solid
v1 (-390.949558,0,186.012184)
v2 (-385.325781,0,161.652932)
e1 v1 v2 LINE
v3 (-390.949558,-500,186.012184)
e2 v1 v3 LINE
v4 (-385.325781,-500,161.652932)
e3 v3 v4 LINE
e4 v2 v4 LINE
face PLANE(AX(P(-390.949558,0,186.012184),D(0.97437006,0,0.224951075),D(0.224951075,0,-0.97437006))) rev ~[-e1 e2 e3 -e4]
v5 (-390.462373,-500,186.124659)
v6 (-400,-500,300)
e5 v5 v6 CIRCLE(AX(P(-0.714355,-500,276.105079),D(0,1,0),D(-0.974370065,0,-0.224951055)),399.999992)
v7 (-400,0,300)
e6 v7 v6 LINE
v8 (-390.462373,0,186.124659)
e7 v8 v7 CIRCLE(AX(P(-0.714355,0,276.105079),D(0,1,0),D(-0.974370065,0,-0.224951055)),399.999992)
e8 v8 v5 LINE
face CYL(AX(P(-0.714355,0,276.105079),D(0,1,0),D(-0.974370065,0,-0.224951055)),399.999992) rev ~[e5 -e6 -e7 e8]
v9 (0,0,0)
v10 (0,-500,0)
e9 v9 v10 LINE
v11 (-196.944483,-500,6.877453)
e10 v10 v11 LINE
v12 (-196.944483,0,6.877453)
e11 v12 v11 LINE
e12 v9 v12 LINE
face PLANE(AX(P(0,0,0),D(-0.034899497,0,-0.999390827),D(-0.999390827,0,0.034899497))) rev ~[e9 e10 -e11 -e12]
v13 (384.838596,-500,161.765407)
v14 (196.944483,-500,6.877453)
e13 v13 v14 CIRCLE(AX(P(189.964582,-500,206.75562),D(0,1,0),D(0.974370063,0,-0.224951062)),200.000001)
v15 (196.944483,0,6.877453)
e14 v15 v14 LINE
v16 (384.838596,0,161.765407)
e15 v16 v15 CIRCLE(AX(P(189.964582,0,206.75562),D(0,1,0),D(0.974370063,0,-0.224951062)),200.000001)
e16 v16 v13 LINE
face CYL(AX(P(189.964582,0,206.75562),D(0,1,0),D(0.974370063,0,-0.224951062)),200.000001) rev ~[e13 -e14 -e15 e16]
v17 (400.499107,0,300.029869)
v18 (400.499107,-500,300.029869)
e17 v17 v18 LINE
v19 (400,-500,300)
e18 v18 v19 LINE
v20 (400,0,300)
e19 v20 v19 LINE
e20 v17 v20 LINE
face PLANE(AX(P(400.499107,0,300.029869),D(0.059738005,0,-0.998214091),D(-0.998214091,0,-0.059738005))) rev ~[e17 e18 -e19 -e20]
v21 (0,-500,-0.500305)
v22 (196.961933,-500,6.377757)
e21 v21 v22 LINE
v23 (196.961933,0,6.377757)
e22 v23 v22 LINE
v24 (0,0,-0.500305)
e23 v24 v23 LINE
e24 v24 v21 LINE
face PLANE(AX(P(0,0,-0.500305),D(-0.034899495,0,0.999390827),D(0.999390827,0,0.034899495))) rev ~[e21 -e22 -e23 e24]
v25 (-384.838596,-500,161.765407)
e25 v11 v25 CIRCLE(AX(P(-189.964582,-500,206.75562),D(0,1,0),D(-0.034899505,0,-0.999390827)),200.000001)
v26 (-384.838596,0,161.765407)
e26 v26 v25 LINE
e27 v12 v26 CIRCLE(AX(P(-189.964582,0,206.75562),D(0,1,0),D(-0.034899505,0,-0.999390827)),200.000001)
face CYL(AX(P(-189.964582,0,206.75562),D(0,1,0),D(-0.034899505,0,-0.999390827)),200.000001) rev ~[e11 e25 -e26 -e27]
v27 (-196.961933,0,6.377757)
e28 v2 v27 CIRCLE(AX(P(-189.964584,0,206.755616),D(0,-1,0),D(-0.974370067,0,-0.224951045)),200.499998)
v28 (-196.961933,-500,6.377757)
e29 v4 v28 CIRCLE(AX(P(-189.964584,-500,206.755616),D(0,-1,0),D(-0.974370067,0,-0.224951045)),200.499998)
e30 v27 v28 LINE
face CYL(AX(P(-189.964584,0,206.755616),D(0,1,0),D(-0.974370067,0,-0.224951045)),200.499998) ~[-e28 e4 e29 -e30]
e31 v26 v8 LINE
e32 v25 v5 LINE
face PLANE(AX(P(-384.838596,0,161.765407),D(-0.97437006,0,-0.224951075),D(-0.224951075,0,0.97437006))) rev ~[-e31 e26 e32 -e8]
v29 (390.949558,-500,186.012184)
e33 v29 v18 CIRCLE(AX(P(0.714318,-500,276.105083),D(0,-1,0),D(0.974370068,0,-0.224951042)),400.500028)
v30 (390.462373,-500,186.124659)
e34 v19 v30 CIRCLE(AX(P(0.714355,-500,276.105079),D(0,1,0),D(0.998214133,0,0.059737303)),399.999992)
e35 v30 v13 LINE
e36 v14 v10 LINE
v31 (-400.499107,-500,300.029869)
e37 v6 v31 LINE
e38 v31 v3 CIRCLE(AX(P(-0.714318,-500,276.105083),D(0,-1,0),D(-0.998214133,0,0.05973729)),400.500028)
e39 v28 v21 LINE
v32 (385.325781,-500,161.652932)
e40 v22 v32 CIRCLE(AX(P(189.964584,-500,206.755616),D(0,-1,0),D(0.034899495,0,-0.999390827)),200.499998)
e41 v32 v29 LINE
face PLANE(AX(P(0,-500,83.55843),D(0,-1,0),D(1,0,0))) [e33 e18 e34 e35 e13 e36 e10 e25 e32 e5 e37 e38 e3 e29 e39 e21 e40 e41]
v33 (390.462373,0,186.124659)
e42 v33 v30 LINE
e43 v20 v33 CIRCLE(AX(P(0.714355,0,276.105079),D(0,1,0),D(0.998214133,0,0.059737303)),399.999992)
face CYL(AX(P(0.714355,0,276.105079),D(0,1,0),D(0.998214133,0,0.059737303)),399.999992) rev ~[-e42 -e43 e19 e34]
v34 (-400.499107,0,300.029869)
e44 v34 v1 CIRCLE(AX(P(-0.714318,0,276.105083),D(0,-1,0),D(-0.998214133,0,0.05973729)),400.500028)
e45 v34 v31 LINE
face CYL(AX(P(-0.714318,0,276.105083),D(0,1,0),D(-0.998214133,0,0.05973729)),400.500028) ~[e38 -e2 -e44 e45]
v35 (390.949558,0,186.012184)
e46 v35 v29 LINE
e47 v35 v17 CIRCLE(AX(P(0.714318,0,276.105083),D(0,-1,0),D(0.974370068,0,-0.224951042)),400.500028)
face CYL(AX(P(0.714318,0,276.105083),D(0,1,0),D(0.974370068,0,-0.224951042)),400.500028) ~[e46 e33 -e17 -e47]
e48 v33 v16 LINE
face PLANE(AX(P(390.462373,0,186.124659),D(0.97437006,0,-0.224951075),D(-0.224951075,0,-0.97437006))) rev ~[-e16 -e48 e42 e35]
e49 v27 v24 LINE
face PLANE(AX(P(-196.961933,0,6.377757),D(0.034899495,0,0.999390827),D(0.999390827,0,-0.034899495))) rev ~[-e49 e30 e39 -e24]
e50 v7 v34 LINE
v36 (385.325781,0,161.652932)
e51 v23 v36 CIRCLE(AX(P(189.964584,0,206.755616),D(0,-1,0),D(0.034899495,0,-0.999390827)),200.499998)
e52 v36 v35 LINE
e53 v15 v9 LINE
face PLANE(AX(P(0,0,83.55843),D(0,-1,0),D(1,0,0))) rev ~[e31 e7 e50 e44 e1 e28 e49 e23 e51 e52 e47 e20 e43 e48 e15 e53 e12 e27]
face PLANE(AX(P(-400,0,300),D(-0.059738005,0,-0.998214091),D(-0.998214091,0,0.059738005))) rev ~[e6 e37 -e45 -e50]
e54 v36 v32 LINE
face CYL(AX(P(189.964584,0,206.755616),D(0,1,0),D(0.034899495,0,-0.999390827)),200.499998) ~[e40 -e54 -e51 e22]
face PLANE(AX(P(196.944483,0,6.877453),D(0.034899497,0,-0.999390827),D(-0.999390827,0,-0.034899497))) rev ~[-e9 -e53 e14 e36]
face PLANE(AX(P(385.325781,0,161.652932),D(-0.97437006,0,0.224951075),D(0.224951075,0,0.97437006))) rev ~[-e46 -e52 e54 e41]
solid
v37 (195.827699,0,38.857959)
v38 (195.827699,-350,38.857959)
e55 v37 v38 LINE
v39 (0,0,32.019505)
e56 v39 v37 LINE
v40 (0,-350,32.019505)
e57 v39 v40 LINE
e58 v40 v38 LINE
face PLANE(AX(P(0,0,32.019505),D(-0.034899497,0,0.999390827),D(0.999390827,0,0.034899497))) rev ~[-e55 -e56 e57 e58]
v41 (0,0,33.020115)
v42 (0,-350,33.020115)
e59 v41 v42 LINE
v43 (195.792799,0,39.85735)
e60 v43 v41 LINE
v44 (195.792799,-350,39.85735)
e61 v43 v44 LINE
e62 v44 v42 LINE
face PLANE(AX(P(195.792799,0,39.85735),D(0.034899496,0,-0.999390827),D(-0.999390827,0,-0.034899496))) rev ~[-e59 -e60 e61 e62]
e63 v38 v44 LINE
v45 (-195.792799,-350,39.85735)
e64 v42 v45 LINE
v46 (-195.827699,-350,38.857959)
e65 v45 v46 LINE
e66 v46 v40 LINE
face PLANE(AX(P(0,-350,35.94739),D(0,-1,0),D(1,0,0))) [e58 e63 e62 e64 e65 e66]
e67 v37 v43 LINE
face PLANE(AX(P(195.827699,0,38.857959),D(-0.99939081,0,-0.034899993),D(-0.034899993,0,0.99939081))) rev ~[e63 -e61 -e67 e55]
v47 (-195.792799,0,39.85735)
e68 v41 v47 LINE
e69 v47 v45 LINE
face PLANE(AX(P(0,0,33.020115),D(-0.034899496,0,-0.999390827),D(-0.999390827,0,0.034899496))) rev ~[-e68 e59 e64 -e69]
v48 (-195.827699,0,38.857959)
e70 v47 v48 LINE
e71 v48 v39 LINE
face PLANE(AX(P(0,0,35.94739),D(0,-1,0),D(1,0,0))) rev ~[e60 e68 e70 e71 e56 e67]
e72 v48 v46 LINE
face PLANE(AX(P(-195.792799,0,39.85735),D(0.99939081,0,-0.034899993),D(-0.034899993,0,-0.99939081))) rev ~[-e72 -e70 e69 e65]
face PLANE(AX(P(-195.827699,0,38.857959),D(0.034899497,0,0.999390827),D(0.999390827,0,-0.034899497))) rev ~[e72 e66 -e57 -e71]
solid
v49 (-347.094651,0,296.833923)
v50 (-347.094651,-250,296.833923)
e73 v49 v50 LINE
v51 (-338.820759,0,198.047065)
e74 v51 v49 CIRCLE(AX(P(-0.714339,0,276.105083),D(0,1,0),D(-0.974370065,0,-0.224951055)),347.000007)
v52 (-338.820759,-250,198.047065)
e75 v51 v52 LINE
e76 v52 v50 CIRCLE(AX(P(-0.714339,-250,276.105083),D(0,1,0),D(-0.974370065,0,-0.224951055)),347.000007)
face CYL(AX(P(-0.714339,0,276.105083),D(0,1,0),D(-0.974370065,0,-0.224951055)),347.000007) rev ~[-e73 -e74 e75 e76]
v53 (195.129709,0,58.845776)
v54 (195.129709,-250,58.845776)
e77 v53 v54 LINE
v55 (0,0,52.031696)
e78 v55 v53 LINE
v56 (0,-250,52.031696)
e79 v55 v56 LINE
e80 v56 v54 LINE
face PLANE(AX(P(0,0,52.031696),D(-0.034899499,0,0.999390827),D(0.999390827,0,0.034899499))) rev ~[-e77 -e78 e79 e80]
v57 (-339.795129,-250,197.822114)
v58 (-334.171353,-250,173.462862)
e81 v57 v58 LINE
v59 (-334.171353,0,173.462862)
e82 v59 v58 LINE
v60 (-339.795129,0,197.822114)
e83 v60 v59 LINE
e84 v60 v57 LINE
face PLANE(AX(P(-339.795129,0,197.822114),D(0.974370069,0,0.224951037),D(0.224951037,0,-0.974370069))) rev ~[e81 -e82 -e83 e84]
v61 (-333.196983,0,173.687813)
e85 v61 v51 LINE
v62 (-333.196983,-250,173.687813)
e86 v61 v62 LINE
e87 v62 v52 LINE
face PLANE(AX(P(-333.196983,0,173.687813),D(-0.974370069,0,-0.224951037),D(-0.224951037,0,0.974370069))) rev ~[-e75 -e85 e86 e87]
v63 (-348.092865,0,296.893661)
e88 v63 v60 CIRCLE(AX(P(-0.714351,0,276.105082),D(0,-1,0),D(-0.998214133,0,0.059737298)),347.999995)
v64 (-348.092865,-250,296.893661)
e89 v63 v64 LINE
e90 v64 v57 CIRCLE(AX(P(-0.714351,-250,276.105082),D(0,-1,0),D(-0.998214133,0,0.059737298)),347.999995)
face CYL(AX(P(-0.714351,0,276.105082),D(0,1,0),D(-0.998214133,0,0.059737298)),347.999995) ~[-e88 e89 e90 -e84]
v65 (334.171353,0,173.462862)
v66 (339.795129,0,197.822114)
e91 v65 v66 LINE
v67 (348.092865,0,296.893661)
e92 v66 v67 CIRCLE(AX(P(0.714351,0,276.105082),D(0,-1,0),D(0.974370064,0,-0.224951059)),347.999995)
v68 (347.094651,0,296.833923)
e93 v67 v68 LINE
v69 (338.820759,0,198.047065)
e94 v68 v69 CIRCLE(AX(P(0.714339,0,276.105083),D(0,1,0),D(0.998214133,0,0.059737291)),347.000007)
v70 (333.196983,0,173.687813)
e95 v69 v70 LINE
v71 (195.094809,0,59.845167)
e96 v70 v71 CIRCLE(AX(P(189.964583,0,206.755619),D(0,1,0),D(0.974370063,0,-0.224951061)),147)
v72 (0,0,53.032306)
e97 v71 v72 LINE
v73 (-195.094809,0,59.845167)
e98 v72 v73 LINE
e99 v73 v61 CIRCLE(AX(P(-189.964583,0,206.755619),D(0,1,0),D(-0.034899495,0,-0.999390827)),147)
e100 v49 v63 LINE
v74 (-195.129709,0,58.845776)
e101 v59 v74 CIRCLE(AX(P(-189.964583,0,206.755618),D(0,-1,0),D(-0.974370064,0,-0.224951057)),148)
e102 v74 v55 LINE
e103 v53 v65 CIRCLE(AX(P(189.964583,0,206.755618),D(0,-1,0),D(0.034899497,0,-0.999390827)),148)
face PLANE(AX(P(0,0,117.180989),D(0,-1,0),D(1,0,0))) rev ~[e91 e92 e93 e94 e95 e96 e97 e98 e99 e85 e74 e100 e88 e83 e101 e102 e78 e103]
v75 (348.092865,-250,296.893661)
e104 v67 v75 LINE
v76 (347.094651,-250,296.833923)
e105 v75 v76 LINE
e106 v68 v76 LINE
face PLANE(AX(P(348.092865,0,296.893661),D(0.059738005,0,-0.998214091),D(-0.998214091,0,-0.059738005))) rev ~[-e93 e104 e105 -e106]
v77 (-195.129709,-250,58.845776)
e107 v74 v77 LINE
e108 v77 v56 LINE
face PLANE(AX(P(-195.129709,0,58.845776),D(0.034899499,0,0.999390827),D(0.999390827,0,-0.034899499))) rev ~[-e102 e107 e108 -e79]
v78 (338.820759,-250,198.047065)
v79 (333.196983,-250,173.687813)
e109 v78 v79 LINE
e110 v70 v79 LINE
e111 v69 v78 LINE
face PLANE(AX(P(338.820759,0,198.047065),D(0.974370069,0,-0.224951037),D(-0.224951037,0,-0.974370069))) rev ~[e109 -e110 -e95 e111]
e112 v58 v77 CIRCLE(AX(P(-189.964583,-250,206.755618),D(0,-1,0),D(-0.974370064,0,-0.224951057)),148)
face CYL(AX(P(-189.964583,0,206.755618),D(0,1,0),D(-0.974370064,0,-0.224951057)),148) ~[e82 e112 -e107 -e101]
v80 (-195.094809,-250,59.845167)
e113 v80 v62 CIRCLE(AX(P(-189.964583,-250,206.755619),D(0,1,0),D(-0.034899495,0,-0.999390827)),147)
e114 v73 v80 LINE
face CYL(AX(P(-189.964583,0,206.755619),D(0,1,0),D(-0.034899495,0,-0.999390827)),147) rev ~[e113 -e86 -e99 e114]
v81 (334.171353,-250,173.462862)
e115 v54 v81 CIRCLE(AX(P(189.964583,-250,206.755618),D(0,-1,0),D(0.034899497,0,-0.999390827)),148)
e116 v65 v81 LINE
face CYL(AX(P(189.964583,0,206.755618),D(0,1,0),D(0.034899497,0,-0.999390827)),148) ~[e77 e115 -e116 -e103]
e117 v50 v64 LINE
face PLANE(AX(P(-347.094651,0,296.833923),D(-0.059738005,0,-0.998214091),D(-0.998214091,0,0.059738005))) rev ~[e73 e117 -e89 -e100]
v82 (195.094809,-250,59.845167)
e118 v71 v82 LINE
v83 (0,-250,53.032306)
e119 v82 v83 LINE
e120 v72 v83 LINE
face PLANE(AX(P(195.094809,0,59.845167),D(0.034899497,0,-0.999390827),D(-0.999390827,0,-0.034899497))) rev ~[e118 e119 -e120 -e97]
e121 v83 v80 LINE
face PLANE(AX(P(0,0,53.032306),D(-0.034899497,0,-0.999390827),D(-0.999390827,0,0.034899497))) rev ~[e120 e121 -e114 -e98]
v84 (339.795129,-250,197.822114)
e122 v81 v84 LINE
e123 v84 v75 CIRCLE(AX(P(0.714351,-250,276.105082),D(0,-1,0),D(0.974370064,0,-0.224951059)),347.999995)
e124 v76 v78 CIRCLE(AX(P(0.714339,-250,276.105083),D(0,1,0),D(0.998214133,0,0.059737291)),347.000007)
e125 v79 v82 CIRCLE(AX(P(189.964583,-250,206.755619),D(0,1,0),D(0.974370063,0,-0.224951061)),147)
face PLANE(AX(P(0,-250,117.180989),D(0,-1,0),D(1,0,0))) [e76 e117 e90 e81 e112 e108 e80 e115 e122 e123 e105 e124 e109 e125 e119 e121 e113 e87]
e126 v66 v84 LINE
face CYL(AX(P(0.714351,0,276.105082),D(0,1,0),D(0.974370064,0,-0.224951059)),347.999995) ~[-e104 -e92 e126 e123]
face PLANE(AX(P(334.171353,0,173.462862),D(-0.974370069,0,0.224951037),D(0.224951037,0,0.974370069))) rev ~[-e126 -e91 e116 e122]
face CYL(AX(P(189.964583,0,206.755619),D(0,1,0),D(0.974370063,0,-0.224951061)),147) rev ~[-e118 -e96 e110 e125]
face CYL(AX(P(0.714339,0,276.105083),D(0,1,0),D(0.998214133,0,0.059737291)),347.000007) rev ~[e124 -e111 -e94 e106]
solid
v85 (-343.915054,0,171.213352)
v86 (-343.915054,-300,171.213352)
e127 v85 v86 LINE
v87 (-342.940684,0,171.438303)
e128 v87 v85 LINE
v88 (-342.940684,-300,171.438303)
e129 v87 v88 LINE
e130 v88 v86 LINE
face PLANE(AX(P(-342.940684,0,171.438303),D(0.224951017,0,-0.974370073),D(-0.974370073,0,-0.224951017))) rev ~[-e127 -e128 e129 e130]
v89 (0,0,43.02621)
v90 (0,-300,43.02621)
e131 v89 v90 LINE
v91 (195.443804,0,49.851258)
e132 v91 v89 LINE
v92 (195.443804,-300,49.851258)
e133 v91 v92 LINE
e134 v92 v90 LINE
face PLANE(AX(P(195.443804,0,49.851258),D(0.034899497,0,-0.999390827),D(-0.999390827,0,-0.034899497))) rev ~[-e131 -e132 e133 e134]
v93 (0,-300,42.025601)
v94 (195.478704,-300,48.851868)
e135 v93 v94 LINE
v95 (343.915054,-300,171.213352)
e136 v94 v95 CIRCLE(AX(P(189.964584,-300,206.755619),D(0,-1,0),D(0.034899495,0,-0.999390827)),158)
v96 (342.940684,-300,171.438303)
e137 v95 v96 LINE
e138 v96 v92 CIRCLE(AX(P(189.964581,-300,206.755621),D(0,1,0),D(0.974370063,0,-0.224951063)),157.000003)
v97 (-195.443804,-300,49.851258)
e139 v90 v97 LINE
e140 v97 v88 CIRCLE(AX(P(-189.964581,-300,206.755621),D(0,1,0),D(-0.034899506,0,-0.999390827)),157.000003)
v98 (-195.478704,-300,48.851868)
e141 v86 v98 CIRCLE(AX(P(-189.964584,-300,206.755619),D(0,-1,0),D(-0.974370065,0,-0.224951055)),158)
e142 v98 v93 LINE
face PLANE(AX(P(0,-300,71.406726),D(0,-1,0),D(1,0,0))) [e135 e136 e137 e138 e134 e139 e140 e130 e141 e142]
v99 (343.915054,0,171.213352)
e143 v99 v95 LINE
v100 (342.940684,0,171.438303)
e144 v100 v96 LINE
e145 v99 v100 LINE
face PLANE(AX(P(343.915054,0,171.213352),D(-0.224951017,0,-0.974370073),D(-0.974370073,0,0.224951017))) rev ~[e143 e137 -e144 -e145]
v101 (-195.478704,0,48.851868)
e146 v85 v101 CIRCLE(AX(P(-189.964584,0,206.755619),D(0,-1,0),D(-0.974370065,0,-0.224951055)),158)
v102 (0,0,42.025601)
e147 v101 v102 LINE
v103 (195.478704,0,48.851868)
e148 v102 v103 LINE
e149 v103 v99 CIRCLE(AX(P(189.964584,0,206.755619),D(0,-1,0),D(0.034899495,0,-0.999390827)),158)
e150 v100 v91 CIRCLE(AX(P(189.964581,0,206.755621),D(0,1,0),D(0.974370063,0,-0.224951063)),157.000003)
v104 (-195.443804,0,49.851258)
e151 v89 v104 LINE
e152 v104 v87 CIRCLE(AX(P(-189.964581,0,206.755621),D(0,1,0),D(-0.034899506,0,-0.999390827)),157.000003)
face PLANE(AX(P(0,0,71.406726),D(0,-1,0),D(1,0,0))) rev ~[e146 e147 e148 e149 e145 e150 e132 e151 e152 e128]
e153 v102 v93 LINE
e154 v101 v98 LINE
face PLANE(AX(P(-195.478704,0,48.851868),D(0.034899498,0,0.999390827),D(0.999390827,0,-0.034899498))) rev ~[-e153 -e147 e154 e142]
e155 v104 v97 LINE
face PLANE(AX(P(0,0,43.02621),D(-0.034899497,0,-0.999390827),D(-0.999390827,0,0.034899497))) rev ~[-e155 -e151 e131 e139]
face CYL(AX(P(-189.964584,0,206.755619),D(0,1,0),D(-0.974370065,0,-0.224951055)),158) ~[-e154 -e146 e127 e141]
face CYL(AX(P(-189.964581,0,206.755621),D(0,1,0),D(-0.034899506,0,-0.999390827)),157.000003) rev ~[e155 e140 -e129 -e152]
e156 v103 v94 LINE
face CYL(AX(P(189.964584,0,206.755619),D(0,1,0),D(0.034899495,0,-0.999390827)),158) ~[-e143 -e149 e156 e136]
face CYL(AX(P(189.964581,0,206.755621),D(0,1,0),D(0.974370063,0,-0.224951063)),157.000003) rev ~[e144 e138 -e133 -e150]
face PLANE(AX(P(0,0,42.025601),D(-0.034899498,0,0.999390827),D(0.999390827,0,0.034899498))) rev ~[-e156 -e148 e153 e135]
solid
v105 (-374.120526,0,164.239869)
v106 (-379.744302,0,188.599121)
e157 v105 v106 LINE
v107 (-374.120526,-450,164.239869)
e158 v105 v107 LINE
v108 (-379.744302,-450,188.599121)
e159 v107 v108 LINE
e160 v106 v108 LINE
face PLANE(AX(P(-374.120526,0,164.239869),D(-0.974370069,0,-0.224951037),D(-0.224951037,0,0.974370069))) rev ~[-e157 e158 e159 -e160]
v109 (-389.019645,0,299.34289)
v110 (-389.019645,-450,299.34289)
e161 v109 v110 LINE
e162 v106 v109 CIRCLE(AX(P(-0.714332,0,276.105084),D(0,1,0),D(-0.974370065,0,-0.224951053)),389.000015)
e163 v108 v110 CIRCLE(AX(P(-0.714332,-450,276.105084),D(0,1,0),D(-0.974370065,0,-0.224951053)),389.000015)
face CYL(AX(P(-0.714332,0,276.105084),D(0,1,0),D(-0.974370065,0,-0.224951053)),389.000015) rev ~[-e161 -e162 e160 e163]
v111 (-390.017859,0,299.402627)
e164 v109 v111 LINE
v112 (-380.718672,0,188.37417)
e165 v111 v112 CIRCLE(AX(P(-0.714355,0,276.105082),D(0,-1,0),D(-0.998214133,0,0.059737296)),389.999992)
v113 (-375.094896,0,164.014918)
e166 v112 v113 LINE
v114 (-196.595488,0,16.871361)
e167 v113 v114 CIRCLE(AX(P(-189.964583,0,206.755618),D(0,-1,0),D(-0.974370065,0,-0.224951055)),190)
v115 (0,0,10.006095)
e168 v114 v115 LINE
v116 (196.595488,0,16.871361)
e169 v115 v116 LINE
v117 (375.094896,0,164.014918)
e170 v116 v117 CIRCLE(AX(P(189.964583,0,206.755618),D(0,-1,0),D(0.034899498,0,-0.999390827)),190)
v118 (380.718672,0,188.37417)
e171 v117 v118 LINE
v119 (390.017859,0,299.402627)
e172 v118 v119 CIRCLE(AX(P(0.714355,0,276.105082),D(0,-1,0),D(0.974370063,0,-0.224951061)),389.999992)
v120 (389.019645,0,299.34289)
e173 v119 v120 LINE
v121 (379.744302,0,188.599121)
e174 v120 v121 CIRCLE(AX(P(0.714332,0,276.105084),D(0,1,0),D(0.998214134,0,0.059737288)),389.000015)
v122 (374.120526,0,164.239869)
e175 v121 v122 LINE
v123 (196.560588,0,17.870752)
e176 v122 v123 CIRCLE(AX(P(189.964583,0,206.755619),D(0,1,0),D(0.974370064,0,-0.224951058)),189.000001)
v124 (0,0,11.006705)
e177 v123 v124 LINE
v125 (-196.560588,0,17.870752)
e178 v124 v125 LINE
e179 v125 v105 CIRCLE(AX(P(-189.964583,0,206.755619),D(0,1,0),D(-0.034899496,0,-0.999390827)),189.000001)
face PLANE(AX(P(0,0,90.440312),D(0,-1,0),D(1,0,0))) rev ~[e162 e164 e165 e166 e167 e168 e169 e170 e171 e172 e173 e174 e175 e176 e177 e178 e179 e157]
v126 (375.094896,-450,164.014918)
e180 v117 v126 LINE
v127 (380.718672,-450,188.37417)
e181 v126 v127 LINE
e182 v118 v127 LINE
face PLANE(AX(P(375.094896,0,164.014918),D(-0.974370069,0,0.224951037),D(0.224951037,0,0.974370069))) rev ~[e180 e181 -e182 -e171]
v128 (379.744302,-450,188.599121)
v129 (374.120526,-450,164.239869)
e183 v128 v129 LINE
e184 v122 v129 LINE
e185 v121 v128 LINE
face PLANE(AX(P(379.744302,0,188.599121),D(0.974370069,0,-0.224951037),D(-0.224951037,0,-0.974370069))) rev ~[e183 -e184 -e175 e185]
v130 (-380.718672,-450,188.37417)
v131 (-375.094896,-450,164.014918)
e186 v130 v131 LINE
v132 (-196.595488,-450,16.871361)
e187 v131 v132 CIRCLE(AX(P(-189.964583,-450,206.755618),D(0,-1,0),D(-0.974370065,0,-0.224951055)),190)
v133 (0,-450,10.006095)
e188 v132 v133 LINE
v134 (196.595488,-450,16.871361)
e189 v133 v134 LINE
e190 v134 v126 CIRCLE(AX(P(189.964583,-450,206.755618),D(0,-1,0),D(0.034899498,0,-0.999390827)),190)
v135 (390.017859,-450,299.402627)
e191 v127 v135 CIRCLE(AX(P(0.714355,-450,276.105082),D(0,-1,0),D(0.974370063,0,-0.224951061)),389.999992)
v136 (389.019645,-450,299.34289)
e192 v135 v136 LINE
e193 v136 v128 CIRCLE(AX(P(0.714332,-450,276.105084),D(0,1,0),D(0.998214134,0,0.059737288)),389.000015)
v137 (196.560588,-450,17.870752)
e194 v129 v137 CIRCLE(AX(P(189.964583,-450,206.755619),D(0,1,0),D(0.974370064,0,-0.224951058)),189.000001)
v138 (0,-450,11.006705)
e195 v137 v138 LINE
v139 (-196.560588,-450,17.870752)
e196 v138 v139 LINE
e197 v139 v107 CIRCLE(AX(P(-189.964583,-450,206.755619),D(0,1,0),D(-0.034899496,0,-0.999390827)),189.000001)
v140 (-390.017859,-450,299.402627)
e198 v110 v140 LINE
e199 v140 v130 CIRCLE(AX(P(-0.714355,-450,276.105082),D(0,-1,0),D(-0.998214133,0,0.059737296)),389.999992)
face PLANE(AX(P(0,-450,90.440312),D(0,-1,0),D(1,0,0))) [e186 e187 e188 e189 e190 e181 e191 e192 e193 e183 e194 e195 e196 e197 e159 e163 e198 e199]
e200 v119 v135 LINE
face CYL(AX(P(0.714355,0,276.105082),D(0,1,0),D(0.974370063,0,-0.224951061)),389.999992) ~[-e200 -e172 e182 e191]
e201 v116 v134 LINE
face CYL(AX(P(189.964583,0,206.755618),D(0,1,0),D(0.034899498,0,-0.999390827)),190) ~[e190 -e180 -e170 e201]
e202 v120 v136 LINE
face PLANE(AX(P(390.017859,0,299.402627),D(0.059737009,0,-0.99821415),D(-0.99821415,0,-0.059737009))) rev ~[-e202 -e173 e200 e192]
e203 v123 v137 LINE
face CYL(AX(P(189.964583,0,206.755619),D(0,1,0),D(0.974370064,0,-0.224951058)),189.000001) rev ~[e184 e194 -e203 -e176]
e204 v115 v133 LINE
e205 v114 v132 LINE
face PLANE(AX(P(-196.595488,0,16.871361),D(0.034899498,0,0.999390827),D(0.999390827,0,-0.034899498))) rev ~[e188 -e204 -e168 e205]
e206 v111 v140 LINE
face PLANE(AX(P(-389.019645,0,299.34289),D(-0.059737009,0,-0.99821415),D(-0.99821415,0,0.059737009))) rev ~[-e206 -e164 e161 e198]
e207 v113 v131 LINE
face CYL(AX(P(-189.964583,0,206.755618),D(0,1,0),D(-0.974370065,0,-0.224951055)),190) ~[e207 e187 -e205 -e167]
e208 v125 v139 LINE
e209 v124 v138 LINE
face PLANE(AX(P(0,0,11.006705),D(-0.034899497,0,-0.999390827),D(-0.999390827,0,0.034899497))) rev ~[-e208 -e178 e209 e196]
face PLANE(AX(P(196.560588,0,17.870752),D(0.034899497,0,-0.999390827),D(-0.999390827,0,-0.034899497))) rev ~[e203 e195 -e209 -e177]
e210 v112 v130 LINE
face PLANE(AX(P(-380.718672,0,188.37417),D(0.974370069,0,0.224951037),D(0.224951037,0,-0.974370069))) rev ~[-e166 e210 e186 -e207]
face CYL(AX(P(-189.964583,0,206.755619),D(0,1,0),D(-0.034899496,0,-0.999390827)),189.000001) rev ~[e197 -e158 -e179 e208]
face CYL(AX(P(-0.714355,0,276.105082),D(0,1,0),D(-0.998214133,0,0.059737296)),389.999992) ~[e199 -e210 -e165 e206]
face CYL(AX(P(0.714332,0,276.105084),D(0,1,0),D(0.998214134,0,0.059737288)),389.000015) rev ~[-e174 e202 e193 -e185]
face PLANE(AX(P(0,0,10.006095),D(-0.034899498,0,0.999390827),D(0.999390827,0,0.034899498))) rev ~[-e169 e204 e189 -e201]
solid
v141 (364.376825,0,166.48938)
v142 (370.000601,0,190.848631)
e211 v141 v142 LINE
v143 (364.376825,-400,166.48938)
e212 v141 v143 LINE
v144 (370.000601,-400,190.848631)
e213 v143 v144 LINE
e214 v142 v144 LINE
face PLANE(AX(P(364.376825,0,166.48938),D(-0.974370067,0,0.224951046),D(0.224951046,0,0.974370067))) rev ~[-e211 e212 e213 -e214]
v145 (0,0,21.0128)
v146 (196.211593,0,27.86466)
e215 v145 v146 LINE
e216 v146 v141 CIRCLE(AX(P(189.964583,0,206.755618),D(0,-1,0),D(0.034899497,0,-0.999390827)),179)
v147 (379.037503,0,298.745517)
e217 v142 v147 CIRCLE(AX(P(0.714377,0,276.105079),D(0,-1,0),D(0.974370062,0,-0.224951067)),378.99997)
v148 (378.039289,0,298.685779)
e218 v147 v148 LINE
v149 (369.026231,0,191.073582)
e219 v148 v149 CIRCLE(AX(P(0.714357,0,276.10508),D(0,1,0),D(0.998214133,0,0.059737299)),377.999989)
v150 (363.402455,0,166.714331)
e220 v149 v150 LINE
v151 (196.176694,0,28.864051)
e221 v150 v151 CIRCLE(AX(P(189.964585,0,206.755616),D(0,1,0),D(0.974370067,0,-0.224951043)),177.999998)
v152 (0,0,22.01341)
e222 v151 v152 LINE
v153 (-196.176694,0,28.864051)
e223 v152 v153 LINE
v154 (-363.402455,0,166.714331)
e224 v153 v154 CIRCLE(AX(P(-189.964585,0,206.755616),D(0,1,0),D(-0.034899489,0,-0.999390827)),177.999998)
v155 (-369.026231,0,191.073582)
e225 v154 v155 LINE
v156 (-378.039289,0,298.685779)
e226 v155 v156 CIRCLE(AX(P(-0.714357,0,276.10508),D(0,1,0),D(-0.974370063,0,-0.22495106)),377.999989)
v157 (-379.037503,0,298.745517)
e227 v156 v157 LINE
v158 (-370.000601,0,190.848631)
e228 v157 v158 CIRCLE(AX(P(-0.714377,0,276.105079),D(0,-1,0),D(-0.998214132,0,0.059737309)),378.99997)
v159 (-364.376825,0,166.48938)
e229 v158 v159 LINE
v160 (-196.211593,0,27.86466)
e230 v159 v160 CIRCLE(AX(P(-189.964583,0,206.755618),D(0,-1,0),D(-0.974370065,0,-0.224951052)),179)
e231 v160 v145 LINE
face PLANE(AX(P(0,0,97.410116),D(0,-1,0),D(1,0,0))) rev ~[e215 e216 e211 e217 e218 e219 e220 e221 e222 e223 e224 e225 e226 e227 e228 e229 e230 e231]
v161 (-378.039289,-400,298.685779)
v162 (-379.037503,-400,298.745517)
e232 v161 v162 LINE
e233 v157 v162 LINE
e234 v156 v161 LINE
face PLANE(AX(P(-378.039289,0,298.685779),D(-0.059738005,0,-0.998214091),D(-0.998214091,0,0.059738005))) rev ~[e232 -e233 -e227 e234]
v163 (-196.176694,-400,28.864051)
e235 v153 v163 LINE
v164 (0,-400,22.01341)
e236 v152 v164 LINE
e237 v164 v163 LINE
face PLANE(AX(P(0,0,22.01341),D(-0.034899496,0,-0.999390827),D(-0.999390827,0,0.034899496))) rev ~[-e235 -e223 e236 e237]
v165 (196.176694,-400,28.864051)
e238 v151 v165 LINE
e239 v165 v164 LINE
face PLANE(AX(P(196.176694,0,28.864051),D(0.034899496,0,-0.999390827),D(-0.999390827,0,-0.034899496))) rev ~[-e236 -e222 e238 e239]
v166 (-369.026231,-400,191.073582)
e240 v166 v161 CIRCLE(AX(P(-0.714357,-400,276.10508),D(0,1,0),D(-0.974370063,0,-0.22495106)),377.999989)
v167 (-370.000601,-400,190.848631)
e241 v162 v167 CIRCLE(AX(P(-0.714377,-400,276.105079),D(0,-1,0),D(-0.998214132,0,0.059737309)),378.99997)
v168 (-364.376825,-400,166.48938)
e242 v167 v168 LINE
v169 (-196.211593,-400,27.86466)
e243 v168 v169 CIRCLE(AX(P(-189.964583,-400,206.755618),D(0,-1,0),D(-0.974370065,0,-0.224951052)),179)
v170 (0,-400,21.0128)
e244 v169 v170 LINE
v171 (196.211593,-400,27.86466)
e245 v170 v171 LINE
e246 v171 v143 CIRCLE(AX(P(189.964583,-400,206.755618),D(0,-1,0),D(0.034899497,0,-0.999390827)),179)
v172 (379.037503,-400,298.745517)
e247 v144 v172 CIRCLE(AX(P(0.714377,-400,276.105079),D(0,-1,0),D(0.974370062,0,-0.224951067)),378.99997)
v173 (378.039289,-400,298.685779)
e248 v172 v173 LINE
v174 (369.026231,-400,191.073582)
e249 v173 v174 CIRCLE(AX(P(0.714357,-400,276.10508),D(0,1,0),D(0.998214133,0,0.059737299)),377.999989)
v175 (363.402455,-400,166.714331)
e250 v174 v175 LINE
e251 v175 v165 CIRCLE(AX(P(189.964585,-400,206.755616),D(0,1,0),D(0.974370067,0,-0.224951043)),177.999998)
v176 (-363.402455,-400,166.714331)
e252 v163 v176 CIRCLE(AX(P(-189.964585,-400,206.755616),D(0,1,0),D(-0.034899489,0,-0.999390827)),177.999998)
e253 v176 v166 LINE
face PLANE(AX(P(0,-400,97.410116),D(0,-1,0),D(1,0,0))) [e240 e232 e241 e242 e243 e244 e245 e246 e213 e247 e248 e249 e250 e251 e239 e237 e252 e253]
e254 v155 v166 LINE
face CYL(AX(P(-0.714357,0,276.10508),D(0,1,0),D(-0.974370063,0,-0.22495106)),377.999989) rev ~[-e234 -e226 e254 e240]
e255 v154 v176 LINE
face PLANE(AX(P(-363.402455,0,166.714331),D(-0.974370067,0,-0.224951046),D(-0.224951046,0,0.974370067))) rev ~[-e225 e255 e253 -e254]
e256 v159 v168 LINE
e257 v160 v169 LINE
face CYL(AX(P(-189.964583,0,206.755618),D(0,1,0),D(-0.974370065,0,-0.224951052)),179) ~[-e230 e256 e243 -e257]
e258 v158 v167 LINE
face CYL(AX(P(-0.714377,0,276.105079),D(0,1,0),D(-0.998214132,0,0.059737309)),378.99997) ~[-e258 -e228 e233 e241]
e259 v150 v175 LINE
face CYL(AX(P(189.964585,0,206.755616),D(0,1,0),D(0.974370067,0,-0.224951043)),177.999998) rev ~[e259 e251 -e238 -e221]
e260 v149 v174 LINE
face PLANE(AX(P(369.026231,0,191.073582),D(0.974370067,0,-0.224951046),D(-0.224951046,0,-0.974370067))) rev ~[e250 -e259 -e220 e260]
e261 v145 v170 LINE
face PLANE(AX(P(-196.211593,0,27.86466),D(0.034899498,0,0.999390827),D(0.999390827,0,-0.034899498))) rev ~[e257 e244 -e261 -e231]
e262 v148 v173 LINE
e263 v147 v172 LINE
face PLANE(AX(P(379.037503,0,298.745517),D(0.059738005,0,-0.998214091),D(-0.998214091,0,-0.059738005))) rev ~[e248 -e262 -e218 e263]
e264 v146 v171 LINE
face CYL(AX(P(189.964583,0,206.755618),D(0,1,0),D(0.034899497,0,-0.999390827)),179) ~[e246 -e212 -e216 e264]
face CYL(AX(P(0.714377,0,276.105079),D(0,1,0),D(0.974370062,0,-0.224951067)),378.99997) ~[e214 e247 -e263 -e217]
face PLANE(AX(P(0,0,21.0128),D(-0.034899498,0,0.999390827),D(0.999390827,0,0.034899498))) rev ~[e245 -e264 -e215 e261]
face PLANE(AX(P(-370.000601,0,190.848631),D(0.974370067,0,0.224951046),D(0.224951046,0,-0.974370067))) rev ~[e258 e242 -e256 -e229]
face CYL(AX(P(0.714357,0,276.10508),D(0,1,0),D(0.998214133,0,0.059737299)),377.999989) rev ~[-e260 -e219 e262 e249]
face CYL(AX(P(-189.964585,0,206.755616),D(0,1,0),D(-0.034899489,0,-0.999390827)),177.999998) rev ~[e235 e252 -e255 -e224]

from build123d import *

# Parameters (mm, degrees)
F1_DEPTH  = 500
F3_DEPTH  = 450
F5_DEPTH  = 400
F7_DEPTH  = 350
F9_DEPTH  = 300
F11_DEPTH = 250


with BuildPart() as f1:
    # F0 (on Front) → F1 (new body)
    with BuildSketch(Plane.XZ):
        with BuildLine():
            Line((196.944483, 6.877453), (0, 0))
            Line((0, 0), (-196.944483, 6.877453))
            ThreePointArc((-196.944483, 6.877453), (-317.180227, 52.430702), (-384.838596, 161.765407))
            Line((-384.838596, 161.765407), (-390.462373, 186.124659))
            ThreePointArc((-390.462373, 186.124659), (-399.318706, 242.719979), (-400, 300))
            Line((-400, 300), (-400.499107, 300.029869))
            ThreePointArc((-400.499107, 300.029869), (-399.816961, 242.678248), (-390.949558, 186.012184))
            Line((-390.949558, 186.012184), (-385.325781, 161.652932))
            ThreePointArc((-385.325781, 161.652932), (-317.498267, 52.044889), (-196.961933, 6.377757))
            Line((-196.961933, 6.377757), (0, -0.500305))
            Line((0, -0.500305), (196.961933, 6.377757))
            ThreePointArc((196.961933, 6.377757), (317.498267, 52.044889), (385.325781, 161.652932))
            Line((385.325781, 161.652932), (390.949558, 186.012184))
            ThreePointArc((390.949558, 186.012184), (399.816961, 242.678248), (400.499107, 300.029869))
            Line((400.499107, 300.029869), (400, 300))
            ThreePointArc((400, 300), (399.318706, 242.719979), (390.462373, 186.124659))
            Line((390.462373, 186.124659), (384.838596, 161.765407))
            ThreePointArc((384.838596, 161.765407), (317.180227, 52.430702), (196.944483, 6.877453))
        make_face()
    extrude(amount=F1_DEPTH)


with BuildPart() as f3:
    # F2 (on Front) → F3 (new body)
    with BuildSketch(Plane.XZ):
        with BuildLine():
            ThreePointArc((-390.017859, 299.402627), (-389.353597, 243.554607), (-380.718672, 188.37417))
            Line((-380.718672, 188.37417), (-375.094896, 164.014918))
            ThreePointArc((-375.094896, 164.014918), (-310.819445, 60.146947), (-196.595488, 16.871361))
            Line((-196.595488, 16.871361), (0, 10.006095))
            Line((0, 10.006095), (196.595488, 16.871361))
            ThreePointArc((196.595488, 16.871361), (310.819445, 60.146947), (375.094896, 164.014918))
            Line((375.094896, 164.014918), (380.718672, 188.37417))
            ThreePointArc((380.718672, 188.37417), (389.353597, 243.554607), (390.017859, 299.402627))
            Line((390.017859, 299.402627), (389.019645, 299.34289))
            ThreePointArc((389.019645, 299.34289), (388.357086, 243.63807), (379.744302, 188.599121))
            Line((379.744302, 188.599121), (374.120526, 164.239869))
            ThreePointArc((374.120526, 164.239869), (310.183367, 60.918572), (196.560588, 17.870752))
            Line((196.560588, 17.870752), (0, 11.006705))
            Line((0, 11.006705), (-196.560588, 17.870752))
            ThreePointArc((-196.560588, 17.870752), (-310.183367, 60.918572), (-374.120526, 164.239869))
            Line((-374.120526, 164.239869), (-379.744302, 188.599121))
            ThreePointArc((-379.744302, 188.599121), (-388.357086, 243.63807), (-389.019645, 299.34289))
            Line((-389.019645, 299.34289), (-390.017859, 299.402627))
        make_face()
    extrude(amount=F3_DEPTH)


with BuildPart() as f5:
    # F4 (on Front) → F5 (new body)
    with BuildSketch(Plane.XZ):
        with BuildLine():
            ThreePointArc((-379.037503, 298.745517), (-378.391977, 244.472697), (-370.000601, 190.848631))
            Line((-370.000601, 190.848631), (-364.376825, 166.48938))
            ThreePointArc((-364.376825, 166.48938), (-303.822585, 68.634818), (-196.211593, 27.86466))
            Line((-196.211593, 27.86466), (0, 21.0128))
            Line((0, 21.0128), (196.211593, 27.86466))
            ThreePointArc((196.211593, 27.86466), (303.822585, 68.634818), (364.376825, 166.48938))
            Line((364.376825, 166.48938), (370.000601, 190.848631))
            ThreePointArc((370.000601, 190.848631), (378.391977, 244.472697), (379.037503, 298.745517))
            Line((379.037503, 298.745517), (378.039289, 298.685779))
            ThreePointArc((378.039289, 298.685779), (377.395466, 244.55616), (369.026231, 191.073582))
            Line((369.026231, 191.073582), (363.402455, 166.714331))
            ThreePointArc((363.402455, 166.714331), (303.186507, 69.406442), (196.176694, 28.864051))
            Line((196.176694, 28.864051), (0, 22.01341))
            Line((0, 22.01341), (-196.176694, 28.864051))
            ThreePointArc((-196.176694, 28.864051), (-303.186507, 69.406442), (-363.402455, 166.714331))
            Line((-363.402455, 166.714331), (-369.026231, 191.073582))
            ThreePointArc((-369.026231, 191.073582), (-377.395466, 244.55616), (-378.039289, 298.685779))
            Line((-378.039289, 298.685779), (-379.037503, 298.745517))
        make_face()
    extrude(amount=F5_DEPTH)


with BuildPart() as f7:
    # F6 (on Front) → F7 (new body)
    with BuildSketch(Plane.XZ):
        Polygon((-195.827699, 38.857959), (0, 32.019505), (195.827699, 38.857959), (195.792799, 39.85735), (0, 33.020115), (-195.792799, 39.85735), align=None)
    extrude(amount=F7_DEPTH)


with BuildPart() as f9:
    # F8 (on Front) → F9 (new body)
    with BuildSketch(Plane.XZ):
        with BuildLine():
            ThreePointArc((-343.915054, 171.213352), (-290.464942, 84.838934), (-195.478704, 48.851868))
            Line((-195.478704, 48.851868), (0, 42.025601))
            Line((0, 42.025601), (195.478704, 48.851868))
            ThreePointArc((195.478704, 48.851868), (290.464942, 84.838934), (343.915054, 171.213352))
            Line((343.915054, 171.213352), (342.940684, 171.438303))
            ThreePointArc((342.940684, 171.438303), (289.828864, 85.610559), (195.443804, 49.851258))
            Line((195.443804, 49.851258), (0, 43.02621))
            Line((0, 43.02621), (-195.443804, 49.851258))
            ThreePointArc((-195.443804, 49.851258), (-289.828864, 85.610559), (-342.940684, 171.438303))
            Line((-342.940684, 171.438303), (-343.915054, 171.213352))
        make_face()
    extrude(amount=F9_DEPTH)


with BuildPart() as f11:
    # F10 (on Front) → F11 (new body)
    with BuildSketch(Plane.XZ):
        with BuildLine():
            ThreePointArc((-348.092865, 296.893661), (-347.500139, 247.060043), (-339.795129, 197.822114))
            Line((-339.795129, 197.822114), (-334.171353, 173.462862))
            ThreePointArc((-334.171353, 173.462862), (-284.10416, 92.55518), (-195.129709, 58.845776))
            Line((-195.129709, 58.845776), (0, 52.031696))
            Line((0, 52.031696), (195.129709, 58.845776))
            ThreePointArc((195.129709, 58.845776), (284.10416, 92.55518), (334.171353, 173.462862))
            Line((334.171353, 173.462862), (339.795129, 197.822114))
            ThreePointArc((339.795129, 197.822114), (347.500139, 247.060043), (348.092865, 296.893661))
            Line((348.092865, 296.893661), (347.094651, 296.833923))
            ThreePointArc((347.094651, 296.833923), (346.503628, 247.143505), (338.820759, 198.047065))
            Line((338.820759, 198.047065), (333.196983, 173.687813))
            ThreePointArc((333.196983, 173.687813), (283.468082, 93.326805), (195.094809, 59.845167))
            Line((195.094809, 59.845167), (0, 53.032306))
            Line((0, 53.032306), (-195.094809, 59.845167))
            ThreePointArc((-195.094809, 59.845167), (-283.468082, 93.326805), (-333.196983, 173.687813))
            Line((-333.196983, 173.687813), (-338.820759, 198.047065))
            ThreePointArc((-338.820759, 198.047065), (-346.503628, 247.143505), (-347.094651, 296.833923))
            Line((-347.094651, 296.833923), (-348.092865, 296.893661))
        make_face()
    extrude(amount=F11_DEPTH)


solid = Compound([f1.part, f3.part, f5.part, f7.part, f9.part, f11.part])
